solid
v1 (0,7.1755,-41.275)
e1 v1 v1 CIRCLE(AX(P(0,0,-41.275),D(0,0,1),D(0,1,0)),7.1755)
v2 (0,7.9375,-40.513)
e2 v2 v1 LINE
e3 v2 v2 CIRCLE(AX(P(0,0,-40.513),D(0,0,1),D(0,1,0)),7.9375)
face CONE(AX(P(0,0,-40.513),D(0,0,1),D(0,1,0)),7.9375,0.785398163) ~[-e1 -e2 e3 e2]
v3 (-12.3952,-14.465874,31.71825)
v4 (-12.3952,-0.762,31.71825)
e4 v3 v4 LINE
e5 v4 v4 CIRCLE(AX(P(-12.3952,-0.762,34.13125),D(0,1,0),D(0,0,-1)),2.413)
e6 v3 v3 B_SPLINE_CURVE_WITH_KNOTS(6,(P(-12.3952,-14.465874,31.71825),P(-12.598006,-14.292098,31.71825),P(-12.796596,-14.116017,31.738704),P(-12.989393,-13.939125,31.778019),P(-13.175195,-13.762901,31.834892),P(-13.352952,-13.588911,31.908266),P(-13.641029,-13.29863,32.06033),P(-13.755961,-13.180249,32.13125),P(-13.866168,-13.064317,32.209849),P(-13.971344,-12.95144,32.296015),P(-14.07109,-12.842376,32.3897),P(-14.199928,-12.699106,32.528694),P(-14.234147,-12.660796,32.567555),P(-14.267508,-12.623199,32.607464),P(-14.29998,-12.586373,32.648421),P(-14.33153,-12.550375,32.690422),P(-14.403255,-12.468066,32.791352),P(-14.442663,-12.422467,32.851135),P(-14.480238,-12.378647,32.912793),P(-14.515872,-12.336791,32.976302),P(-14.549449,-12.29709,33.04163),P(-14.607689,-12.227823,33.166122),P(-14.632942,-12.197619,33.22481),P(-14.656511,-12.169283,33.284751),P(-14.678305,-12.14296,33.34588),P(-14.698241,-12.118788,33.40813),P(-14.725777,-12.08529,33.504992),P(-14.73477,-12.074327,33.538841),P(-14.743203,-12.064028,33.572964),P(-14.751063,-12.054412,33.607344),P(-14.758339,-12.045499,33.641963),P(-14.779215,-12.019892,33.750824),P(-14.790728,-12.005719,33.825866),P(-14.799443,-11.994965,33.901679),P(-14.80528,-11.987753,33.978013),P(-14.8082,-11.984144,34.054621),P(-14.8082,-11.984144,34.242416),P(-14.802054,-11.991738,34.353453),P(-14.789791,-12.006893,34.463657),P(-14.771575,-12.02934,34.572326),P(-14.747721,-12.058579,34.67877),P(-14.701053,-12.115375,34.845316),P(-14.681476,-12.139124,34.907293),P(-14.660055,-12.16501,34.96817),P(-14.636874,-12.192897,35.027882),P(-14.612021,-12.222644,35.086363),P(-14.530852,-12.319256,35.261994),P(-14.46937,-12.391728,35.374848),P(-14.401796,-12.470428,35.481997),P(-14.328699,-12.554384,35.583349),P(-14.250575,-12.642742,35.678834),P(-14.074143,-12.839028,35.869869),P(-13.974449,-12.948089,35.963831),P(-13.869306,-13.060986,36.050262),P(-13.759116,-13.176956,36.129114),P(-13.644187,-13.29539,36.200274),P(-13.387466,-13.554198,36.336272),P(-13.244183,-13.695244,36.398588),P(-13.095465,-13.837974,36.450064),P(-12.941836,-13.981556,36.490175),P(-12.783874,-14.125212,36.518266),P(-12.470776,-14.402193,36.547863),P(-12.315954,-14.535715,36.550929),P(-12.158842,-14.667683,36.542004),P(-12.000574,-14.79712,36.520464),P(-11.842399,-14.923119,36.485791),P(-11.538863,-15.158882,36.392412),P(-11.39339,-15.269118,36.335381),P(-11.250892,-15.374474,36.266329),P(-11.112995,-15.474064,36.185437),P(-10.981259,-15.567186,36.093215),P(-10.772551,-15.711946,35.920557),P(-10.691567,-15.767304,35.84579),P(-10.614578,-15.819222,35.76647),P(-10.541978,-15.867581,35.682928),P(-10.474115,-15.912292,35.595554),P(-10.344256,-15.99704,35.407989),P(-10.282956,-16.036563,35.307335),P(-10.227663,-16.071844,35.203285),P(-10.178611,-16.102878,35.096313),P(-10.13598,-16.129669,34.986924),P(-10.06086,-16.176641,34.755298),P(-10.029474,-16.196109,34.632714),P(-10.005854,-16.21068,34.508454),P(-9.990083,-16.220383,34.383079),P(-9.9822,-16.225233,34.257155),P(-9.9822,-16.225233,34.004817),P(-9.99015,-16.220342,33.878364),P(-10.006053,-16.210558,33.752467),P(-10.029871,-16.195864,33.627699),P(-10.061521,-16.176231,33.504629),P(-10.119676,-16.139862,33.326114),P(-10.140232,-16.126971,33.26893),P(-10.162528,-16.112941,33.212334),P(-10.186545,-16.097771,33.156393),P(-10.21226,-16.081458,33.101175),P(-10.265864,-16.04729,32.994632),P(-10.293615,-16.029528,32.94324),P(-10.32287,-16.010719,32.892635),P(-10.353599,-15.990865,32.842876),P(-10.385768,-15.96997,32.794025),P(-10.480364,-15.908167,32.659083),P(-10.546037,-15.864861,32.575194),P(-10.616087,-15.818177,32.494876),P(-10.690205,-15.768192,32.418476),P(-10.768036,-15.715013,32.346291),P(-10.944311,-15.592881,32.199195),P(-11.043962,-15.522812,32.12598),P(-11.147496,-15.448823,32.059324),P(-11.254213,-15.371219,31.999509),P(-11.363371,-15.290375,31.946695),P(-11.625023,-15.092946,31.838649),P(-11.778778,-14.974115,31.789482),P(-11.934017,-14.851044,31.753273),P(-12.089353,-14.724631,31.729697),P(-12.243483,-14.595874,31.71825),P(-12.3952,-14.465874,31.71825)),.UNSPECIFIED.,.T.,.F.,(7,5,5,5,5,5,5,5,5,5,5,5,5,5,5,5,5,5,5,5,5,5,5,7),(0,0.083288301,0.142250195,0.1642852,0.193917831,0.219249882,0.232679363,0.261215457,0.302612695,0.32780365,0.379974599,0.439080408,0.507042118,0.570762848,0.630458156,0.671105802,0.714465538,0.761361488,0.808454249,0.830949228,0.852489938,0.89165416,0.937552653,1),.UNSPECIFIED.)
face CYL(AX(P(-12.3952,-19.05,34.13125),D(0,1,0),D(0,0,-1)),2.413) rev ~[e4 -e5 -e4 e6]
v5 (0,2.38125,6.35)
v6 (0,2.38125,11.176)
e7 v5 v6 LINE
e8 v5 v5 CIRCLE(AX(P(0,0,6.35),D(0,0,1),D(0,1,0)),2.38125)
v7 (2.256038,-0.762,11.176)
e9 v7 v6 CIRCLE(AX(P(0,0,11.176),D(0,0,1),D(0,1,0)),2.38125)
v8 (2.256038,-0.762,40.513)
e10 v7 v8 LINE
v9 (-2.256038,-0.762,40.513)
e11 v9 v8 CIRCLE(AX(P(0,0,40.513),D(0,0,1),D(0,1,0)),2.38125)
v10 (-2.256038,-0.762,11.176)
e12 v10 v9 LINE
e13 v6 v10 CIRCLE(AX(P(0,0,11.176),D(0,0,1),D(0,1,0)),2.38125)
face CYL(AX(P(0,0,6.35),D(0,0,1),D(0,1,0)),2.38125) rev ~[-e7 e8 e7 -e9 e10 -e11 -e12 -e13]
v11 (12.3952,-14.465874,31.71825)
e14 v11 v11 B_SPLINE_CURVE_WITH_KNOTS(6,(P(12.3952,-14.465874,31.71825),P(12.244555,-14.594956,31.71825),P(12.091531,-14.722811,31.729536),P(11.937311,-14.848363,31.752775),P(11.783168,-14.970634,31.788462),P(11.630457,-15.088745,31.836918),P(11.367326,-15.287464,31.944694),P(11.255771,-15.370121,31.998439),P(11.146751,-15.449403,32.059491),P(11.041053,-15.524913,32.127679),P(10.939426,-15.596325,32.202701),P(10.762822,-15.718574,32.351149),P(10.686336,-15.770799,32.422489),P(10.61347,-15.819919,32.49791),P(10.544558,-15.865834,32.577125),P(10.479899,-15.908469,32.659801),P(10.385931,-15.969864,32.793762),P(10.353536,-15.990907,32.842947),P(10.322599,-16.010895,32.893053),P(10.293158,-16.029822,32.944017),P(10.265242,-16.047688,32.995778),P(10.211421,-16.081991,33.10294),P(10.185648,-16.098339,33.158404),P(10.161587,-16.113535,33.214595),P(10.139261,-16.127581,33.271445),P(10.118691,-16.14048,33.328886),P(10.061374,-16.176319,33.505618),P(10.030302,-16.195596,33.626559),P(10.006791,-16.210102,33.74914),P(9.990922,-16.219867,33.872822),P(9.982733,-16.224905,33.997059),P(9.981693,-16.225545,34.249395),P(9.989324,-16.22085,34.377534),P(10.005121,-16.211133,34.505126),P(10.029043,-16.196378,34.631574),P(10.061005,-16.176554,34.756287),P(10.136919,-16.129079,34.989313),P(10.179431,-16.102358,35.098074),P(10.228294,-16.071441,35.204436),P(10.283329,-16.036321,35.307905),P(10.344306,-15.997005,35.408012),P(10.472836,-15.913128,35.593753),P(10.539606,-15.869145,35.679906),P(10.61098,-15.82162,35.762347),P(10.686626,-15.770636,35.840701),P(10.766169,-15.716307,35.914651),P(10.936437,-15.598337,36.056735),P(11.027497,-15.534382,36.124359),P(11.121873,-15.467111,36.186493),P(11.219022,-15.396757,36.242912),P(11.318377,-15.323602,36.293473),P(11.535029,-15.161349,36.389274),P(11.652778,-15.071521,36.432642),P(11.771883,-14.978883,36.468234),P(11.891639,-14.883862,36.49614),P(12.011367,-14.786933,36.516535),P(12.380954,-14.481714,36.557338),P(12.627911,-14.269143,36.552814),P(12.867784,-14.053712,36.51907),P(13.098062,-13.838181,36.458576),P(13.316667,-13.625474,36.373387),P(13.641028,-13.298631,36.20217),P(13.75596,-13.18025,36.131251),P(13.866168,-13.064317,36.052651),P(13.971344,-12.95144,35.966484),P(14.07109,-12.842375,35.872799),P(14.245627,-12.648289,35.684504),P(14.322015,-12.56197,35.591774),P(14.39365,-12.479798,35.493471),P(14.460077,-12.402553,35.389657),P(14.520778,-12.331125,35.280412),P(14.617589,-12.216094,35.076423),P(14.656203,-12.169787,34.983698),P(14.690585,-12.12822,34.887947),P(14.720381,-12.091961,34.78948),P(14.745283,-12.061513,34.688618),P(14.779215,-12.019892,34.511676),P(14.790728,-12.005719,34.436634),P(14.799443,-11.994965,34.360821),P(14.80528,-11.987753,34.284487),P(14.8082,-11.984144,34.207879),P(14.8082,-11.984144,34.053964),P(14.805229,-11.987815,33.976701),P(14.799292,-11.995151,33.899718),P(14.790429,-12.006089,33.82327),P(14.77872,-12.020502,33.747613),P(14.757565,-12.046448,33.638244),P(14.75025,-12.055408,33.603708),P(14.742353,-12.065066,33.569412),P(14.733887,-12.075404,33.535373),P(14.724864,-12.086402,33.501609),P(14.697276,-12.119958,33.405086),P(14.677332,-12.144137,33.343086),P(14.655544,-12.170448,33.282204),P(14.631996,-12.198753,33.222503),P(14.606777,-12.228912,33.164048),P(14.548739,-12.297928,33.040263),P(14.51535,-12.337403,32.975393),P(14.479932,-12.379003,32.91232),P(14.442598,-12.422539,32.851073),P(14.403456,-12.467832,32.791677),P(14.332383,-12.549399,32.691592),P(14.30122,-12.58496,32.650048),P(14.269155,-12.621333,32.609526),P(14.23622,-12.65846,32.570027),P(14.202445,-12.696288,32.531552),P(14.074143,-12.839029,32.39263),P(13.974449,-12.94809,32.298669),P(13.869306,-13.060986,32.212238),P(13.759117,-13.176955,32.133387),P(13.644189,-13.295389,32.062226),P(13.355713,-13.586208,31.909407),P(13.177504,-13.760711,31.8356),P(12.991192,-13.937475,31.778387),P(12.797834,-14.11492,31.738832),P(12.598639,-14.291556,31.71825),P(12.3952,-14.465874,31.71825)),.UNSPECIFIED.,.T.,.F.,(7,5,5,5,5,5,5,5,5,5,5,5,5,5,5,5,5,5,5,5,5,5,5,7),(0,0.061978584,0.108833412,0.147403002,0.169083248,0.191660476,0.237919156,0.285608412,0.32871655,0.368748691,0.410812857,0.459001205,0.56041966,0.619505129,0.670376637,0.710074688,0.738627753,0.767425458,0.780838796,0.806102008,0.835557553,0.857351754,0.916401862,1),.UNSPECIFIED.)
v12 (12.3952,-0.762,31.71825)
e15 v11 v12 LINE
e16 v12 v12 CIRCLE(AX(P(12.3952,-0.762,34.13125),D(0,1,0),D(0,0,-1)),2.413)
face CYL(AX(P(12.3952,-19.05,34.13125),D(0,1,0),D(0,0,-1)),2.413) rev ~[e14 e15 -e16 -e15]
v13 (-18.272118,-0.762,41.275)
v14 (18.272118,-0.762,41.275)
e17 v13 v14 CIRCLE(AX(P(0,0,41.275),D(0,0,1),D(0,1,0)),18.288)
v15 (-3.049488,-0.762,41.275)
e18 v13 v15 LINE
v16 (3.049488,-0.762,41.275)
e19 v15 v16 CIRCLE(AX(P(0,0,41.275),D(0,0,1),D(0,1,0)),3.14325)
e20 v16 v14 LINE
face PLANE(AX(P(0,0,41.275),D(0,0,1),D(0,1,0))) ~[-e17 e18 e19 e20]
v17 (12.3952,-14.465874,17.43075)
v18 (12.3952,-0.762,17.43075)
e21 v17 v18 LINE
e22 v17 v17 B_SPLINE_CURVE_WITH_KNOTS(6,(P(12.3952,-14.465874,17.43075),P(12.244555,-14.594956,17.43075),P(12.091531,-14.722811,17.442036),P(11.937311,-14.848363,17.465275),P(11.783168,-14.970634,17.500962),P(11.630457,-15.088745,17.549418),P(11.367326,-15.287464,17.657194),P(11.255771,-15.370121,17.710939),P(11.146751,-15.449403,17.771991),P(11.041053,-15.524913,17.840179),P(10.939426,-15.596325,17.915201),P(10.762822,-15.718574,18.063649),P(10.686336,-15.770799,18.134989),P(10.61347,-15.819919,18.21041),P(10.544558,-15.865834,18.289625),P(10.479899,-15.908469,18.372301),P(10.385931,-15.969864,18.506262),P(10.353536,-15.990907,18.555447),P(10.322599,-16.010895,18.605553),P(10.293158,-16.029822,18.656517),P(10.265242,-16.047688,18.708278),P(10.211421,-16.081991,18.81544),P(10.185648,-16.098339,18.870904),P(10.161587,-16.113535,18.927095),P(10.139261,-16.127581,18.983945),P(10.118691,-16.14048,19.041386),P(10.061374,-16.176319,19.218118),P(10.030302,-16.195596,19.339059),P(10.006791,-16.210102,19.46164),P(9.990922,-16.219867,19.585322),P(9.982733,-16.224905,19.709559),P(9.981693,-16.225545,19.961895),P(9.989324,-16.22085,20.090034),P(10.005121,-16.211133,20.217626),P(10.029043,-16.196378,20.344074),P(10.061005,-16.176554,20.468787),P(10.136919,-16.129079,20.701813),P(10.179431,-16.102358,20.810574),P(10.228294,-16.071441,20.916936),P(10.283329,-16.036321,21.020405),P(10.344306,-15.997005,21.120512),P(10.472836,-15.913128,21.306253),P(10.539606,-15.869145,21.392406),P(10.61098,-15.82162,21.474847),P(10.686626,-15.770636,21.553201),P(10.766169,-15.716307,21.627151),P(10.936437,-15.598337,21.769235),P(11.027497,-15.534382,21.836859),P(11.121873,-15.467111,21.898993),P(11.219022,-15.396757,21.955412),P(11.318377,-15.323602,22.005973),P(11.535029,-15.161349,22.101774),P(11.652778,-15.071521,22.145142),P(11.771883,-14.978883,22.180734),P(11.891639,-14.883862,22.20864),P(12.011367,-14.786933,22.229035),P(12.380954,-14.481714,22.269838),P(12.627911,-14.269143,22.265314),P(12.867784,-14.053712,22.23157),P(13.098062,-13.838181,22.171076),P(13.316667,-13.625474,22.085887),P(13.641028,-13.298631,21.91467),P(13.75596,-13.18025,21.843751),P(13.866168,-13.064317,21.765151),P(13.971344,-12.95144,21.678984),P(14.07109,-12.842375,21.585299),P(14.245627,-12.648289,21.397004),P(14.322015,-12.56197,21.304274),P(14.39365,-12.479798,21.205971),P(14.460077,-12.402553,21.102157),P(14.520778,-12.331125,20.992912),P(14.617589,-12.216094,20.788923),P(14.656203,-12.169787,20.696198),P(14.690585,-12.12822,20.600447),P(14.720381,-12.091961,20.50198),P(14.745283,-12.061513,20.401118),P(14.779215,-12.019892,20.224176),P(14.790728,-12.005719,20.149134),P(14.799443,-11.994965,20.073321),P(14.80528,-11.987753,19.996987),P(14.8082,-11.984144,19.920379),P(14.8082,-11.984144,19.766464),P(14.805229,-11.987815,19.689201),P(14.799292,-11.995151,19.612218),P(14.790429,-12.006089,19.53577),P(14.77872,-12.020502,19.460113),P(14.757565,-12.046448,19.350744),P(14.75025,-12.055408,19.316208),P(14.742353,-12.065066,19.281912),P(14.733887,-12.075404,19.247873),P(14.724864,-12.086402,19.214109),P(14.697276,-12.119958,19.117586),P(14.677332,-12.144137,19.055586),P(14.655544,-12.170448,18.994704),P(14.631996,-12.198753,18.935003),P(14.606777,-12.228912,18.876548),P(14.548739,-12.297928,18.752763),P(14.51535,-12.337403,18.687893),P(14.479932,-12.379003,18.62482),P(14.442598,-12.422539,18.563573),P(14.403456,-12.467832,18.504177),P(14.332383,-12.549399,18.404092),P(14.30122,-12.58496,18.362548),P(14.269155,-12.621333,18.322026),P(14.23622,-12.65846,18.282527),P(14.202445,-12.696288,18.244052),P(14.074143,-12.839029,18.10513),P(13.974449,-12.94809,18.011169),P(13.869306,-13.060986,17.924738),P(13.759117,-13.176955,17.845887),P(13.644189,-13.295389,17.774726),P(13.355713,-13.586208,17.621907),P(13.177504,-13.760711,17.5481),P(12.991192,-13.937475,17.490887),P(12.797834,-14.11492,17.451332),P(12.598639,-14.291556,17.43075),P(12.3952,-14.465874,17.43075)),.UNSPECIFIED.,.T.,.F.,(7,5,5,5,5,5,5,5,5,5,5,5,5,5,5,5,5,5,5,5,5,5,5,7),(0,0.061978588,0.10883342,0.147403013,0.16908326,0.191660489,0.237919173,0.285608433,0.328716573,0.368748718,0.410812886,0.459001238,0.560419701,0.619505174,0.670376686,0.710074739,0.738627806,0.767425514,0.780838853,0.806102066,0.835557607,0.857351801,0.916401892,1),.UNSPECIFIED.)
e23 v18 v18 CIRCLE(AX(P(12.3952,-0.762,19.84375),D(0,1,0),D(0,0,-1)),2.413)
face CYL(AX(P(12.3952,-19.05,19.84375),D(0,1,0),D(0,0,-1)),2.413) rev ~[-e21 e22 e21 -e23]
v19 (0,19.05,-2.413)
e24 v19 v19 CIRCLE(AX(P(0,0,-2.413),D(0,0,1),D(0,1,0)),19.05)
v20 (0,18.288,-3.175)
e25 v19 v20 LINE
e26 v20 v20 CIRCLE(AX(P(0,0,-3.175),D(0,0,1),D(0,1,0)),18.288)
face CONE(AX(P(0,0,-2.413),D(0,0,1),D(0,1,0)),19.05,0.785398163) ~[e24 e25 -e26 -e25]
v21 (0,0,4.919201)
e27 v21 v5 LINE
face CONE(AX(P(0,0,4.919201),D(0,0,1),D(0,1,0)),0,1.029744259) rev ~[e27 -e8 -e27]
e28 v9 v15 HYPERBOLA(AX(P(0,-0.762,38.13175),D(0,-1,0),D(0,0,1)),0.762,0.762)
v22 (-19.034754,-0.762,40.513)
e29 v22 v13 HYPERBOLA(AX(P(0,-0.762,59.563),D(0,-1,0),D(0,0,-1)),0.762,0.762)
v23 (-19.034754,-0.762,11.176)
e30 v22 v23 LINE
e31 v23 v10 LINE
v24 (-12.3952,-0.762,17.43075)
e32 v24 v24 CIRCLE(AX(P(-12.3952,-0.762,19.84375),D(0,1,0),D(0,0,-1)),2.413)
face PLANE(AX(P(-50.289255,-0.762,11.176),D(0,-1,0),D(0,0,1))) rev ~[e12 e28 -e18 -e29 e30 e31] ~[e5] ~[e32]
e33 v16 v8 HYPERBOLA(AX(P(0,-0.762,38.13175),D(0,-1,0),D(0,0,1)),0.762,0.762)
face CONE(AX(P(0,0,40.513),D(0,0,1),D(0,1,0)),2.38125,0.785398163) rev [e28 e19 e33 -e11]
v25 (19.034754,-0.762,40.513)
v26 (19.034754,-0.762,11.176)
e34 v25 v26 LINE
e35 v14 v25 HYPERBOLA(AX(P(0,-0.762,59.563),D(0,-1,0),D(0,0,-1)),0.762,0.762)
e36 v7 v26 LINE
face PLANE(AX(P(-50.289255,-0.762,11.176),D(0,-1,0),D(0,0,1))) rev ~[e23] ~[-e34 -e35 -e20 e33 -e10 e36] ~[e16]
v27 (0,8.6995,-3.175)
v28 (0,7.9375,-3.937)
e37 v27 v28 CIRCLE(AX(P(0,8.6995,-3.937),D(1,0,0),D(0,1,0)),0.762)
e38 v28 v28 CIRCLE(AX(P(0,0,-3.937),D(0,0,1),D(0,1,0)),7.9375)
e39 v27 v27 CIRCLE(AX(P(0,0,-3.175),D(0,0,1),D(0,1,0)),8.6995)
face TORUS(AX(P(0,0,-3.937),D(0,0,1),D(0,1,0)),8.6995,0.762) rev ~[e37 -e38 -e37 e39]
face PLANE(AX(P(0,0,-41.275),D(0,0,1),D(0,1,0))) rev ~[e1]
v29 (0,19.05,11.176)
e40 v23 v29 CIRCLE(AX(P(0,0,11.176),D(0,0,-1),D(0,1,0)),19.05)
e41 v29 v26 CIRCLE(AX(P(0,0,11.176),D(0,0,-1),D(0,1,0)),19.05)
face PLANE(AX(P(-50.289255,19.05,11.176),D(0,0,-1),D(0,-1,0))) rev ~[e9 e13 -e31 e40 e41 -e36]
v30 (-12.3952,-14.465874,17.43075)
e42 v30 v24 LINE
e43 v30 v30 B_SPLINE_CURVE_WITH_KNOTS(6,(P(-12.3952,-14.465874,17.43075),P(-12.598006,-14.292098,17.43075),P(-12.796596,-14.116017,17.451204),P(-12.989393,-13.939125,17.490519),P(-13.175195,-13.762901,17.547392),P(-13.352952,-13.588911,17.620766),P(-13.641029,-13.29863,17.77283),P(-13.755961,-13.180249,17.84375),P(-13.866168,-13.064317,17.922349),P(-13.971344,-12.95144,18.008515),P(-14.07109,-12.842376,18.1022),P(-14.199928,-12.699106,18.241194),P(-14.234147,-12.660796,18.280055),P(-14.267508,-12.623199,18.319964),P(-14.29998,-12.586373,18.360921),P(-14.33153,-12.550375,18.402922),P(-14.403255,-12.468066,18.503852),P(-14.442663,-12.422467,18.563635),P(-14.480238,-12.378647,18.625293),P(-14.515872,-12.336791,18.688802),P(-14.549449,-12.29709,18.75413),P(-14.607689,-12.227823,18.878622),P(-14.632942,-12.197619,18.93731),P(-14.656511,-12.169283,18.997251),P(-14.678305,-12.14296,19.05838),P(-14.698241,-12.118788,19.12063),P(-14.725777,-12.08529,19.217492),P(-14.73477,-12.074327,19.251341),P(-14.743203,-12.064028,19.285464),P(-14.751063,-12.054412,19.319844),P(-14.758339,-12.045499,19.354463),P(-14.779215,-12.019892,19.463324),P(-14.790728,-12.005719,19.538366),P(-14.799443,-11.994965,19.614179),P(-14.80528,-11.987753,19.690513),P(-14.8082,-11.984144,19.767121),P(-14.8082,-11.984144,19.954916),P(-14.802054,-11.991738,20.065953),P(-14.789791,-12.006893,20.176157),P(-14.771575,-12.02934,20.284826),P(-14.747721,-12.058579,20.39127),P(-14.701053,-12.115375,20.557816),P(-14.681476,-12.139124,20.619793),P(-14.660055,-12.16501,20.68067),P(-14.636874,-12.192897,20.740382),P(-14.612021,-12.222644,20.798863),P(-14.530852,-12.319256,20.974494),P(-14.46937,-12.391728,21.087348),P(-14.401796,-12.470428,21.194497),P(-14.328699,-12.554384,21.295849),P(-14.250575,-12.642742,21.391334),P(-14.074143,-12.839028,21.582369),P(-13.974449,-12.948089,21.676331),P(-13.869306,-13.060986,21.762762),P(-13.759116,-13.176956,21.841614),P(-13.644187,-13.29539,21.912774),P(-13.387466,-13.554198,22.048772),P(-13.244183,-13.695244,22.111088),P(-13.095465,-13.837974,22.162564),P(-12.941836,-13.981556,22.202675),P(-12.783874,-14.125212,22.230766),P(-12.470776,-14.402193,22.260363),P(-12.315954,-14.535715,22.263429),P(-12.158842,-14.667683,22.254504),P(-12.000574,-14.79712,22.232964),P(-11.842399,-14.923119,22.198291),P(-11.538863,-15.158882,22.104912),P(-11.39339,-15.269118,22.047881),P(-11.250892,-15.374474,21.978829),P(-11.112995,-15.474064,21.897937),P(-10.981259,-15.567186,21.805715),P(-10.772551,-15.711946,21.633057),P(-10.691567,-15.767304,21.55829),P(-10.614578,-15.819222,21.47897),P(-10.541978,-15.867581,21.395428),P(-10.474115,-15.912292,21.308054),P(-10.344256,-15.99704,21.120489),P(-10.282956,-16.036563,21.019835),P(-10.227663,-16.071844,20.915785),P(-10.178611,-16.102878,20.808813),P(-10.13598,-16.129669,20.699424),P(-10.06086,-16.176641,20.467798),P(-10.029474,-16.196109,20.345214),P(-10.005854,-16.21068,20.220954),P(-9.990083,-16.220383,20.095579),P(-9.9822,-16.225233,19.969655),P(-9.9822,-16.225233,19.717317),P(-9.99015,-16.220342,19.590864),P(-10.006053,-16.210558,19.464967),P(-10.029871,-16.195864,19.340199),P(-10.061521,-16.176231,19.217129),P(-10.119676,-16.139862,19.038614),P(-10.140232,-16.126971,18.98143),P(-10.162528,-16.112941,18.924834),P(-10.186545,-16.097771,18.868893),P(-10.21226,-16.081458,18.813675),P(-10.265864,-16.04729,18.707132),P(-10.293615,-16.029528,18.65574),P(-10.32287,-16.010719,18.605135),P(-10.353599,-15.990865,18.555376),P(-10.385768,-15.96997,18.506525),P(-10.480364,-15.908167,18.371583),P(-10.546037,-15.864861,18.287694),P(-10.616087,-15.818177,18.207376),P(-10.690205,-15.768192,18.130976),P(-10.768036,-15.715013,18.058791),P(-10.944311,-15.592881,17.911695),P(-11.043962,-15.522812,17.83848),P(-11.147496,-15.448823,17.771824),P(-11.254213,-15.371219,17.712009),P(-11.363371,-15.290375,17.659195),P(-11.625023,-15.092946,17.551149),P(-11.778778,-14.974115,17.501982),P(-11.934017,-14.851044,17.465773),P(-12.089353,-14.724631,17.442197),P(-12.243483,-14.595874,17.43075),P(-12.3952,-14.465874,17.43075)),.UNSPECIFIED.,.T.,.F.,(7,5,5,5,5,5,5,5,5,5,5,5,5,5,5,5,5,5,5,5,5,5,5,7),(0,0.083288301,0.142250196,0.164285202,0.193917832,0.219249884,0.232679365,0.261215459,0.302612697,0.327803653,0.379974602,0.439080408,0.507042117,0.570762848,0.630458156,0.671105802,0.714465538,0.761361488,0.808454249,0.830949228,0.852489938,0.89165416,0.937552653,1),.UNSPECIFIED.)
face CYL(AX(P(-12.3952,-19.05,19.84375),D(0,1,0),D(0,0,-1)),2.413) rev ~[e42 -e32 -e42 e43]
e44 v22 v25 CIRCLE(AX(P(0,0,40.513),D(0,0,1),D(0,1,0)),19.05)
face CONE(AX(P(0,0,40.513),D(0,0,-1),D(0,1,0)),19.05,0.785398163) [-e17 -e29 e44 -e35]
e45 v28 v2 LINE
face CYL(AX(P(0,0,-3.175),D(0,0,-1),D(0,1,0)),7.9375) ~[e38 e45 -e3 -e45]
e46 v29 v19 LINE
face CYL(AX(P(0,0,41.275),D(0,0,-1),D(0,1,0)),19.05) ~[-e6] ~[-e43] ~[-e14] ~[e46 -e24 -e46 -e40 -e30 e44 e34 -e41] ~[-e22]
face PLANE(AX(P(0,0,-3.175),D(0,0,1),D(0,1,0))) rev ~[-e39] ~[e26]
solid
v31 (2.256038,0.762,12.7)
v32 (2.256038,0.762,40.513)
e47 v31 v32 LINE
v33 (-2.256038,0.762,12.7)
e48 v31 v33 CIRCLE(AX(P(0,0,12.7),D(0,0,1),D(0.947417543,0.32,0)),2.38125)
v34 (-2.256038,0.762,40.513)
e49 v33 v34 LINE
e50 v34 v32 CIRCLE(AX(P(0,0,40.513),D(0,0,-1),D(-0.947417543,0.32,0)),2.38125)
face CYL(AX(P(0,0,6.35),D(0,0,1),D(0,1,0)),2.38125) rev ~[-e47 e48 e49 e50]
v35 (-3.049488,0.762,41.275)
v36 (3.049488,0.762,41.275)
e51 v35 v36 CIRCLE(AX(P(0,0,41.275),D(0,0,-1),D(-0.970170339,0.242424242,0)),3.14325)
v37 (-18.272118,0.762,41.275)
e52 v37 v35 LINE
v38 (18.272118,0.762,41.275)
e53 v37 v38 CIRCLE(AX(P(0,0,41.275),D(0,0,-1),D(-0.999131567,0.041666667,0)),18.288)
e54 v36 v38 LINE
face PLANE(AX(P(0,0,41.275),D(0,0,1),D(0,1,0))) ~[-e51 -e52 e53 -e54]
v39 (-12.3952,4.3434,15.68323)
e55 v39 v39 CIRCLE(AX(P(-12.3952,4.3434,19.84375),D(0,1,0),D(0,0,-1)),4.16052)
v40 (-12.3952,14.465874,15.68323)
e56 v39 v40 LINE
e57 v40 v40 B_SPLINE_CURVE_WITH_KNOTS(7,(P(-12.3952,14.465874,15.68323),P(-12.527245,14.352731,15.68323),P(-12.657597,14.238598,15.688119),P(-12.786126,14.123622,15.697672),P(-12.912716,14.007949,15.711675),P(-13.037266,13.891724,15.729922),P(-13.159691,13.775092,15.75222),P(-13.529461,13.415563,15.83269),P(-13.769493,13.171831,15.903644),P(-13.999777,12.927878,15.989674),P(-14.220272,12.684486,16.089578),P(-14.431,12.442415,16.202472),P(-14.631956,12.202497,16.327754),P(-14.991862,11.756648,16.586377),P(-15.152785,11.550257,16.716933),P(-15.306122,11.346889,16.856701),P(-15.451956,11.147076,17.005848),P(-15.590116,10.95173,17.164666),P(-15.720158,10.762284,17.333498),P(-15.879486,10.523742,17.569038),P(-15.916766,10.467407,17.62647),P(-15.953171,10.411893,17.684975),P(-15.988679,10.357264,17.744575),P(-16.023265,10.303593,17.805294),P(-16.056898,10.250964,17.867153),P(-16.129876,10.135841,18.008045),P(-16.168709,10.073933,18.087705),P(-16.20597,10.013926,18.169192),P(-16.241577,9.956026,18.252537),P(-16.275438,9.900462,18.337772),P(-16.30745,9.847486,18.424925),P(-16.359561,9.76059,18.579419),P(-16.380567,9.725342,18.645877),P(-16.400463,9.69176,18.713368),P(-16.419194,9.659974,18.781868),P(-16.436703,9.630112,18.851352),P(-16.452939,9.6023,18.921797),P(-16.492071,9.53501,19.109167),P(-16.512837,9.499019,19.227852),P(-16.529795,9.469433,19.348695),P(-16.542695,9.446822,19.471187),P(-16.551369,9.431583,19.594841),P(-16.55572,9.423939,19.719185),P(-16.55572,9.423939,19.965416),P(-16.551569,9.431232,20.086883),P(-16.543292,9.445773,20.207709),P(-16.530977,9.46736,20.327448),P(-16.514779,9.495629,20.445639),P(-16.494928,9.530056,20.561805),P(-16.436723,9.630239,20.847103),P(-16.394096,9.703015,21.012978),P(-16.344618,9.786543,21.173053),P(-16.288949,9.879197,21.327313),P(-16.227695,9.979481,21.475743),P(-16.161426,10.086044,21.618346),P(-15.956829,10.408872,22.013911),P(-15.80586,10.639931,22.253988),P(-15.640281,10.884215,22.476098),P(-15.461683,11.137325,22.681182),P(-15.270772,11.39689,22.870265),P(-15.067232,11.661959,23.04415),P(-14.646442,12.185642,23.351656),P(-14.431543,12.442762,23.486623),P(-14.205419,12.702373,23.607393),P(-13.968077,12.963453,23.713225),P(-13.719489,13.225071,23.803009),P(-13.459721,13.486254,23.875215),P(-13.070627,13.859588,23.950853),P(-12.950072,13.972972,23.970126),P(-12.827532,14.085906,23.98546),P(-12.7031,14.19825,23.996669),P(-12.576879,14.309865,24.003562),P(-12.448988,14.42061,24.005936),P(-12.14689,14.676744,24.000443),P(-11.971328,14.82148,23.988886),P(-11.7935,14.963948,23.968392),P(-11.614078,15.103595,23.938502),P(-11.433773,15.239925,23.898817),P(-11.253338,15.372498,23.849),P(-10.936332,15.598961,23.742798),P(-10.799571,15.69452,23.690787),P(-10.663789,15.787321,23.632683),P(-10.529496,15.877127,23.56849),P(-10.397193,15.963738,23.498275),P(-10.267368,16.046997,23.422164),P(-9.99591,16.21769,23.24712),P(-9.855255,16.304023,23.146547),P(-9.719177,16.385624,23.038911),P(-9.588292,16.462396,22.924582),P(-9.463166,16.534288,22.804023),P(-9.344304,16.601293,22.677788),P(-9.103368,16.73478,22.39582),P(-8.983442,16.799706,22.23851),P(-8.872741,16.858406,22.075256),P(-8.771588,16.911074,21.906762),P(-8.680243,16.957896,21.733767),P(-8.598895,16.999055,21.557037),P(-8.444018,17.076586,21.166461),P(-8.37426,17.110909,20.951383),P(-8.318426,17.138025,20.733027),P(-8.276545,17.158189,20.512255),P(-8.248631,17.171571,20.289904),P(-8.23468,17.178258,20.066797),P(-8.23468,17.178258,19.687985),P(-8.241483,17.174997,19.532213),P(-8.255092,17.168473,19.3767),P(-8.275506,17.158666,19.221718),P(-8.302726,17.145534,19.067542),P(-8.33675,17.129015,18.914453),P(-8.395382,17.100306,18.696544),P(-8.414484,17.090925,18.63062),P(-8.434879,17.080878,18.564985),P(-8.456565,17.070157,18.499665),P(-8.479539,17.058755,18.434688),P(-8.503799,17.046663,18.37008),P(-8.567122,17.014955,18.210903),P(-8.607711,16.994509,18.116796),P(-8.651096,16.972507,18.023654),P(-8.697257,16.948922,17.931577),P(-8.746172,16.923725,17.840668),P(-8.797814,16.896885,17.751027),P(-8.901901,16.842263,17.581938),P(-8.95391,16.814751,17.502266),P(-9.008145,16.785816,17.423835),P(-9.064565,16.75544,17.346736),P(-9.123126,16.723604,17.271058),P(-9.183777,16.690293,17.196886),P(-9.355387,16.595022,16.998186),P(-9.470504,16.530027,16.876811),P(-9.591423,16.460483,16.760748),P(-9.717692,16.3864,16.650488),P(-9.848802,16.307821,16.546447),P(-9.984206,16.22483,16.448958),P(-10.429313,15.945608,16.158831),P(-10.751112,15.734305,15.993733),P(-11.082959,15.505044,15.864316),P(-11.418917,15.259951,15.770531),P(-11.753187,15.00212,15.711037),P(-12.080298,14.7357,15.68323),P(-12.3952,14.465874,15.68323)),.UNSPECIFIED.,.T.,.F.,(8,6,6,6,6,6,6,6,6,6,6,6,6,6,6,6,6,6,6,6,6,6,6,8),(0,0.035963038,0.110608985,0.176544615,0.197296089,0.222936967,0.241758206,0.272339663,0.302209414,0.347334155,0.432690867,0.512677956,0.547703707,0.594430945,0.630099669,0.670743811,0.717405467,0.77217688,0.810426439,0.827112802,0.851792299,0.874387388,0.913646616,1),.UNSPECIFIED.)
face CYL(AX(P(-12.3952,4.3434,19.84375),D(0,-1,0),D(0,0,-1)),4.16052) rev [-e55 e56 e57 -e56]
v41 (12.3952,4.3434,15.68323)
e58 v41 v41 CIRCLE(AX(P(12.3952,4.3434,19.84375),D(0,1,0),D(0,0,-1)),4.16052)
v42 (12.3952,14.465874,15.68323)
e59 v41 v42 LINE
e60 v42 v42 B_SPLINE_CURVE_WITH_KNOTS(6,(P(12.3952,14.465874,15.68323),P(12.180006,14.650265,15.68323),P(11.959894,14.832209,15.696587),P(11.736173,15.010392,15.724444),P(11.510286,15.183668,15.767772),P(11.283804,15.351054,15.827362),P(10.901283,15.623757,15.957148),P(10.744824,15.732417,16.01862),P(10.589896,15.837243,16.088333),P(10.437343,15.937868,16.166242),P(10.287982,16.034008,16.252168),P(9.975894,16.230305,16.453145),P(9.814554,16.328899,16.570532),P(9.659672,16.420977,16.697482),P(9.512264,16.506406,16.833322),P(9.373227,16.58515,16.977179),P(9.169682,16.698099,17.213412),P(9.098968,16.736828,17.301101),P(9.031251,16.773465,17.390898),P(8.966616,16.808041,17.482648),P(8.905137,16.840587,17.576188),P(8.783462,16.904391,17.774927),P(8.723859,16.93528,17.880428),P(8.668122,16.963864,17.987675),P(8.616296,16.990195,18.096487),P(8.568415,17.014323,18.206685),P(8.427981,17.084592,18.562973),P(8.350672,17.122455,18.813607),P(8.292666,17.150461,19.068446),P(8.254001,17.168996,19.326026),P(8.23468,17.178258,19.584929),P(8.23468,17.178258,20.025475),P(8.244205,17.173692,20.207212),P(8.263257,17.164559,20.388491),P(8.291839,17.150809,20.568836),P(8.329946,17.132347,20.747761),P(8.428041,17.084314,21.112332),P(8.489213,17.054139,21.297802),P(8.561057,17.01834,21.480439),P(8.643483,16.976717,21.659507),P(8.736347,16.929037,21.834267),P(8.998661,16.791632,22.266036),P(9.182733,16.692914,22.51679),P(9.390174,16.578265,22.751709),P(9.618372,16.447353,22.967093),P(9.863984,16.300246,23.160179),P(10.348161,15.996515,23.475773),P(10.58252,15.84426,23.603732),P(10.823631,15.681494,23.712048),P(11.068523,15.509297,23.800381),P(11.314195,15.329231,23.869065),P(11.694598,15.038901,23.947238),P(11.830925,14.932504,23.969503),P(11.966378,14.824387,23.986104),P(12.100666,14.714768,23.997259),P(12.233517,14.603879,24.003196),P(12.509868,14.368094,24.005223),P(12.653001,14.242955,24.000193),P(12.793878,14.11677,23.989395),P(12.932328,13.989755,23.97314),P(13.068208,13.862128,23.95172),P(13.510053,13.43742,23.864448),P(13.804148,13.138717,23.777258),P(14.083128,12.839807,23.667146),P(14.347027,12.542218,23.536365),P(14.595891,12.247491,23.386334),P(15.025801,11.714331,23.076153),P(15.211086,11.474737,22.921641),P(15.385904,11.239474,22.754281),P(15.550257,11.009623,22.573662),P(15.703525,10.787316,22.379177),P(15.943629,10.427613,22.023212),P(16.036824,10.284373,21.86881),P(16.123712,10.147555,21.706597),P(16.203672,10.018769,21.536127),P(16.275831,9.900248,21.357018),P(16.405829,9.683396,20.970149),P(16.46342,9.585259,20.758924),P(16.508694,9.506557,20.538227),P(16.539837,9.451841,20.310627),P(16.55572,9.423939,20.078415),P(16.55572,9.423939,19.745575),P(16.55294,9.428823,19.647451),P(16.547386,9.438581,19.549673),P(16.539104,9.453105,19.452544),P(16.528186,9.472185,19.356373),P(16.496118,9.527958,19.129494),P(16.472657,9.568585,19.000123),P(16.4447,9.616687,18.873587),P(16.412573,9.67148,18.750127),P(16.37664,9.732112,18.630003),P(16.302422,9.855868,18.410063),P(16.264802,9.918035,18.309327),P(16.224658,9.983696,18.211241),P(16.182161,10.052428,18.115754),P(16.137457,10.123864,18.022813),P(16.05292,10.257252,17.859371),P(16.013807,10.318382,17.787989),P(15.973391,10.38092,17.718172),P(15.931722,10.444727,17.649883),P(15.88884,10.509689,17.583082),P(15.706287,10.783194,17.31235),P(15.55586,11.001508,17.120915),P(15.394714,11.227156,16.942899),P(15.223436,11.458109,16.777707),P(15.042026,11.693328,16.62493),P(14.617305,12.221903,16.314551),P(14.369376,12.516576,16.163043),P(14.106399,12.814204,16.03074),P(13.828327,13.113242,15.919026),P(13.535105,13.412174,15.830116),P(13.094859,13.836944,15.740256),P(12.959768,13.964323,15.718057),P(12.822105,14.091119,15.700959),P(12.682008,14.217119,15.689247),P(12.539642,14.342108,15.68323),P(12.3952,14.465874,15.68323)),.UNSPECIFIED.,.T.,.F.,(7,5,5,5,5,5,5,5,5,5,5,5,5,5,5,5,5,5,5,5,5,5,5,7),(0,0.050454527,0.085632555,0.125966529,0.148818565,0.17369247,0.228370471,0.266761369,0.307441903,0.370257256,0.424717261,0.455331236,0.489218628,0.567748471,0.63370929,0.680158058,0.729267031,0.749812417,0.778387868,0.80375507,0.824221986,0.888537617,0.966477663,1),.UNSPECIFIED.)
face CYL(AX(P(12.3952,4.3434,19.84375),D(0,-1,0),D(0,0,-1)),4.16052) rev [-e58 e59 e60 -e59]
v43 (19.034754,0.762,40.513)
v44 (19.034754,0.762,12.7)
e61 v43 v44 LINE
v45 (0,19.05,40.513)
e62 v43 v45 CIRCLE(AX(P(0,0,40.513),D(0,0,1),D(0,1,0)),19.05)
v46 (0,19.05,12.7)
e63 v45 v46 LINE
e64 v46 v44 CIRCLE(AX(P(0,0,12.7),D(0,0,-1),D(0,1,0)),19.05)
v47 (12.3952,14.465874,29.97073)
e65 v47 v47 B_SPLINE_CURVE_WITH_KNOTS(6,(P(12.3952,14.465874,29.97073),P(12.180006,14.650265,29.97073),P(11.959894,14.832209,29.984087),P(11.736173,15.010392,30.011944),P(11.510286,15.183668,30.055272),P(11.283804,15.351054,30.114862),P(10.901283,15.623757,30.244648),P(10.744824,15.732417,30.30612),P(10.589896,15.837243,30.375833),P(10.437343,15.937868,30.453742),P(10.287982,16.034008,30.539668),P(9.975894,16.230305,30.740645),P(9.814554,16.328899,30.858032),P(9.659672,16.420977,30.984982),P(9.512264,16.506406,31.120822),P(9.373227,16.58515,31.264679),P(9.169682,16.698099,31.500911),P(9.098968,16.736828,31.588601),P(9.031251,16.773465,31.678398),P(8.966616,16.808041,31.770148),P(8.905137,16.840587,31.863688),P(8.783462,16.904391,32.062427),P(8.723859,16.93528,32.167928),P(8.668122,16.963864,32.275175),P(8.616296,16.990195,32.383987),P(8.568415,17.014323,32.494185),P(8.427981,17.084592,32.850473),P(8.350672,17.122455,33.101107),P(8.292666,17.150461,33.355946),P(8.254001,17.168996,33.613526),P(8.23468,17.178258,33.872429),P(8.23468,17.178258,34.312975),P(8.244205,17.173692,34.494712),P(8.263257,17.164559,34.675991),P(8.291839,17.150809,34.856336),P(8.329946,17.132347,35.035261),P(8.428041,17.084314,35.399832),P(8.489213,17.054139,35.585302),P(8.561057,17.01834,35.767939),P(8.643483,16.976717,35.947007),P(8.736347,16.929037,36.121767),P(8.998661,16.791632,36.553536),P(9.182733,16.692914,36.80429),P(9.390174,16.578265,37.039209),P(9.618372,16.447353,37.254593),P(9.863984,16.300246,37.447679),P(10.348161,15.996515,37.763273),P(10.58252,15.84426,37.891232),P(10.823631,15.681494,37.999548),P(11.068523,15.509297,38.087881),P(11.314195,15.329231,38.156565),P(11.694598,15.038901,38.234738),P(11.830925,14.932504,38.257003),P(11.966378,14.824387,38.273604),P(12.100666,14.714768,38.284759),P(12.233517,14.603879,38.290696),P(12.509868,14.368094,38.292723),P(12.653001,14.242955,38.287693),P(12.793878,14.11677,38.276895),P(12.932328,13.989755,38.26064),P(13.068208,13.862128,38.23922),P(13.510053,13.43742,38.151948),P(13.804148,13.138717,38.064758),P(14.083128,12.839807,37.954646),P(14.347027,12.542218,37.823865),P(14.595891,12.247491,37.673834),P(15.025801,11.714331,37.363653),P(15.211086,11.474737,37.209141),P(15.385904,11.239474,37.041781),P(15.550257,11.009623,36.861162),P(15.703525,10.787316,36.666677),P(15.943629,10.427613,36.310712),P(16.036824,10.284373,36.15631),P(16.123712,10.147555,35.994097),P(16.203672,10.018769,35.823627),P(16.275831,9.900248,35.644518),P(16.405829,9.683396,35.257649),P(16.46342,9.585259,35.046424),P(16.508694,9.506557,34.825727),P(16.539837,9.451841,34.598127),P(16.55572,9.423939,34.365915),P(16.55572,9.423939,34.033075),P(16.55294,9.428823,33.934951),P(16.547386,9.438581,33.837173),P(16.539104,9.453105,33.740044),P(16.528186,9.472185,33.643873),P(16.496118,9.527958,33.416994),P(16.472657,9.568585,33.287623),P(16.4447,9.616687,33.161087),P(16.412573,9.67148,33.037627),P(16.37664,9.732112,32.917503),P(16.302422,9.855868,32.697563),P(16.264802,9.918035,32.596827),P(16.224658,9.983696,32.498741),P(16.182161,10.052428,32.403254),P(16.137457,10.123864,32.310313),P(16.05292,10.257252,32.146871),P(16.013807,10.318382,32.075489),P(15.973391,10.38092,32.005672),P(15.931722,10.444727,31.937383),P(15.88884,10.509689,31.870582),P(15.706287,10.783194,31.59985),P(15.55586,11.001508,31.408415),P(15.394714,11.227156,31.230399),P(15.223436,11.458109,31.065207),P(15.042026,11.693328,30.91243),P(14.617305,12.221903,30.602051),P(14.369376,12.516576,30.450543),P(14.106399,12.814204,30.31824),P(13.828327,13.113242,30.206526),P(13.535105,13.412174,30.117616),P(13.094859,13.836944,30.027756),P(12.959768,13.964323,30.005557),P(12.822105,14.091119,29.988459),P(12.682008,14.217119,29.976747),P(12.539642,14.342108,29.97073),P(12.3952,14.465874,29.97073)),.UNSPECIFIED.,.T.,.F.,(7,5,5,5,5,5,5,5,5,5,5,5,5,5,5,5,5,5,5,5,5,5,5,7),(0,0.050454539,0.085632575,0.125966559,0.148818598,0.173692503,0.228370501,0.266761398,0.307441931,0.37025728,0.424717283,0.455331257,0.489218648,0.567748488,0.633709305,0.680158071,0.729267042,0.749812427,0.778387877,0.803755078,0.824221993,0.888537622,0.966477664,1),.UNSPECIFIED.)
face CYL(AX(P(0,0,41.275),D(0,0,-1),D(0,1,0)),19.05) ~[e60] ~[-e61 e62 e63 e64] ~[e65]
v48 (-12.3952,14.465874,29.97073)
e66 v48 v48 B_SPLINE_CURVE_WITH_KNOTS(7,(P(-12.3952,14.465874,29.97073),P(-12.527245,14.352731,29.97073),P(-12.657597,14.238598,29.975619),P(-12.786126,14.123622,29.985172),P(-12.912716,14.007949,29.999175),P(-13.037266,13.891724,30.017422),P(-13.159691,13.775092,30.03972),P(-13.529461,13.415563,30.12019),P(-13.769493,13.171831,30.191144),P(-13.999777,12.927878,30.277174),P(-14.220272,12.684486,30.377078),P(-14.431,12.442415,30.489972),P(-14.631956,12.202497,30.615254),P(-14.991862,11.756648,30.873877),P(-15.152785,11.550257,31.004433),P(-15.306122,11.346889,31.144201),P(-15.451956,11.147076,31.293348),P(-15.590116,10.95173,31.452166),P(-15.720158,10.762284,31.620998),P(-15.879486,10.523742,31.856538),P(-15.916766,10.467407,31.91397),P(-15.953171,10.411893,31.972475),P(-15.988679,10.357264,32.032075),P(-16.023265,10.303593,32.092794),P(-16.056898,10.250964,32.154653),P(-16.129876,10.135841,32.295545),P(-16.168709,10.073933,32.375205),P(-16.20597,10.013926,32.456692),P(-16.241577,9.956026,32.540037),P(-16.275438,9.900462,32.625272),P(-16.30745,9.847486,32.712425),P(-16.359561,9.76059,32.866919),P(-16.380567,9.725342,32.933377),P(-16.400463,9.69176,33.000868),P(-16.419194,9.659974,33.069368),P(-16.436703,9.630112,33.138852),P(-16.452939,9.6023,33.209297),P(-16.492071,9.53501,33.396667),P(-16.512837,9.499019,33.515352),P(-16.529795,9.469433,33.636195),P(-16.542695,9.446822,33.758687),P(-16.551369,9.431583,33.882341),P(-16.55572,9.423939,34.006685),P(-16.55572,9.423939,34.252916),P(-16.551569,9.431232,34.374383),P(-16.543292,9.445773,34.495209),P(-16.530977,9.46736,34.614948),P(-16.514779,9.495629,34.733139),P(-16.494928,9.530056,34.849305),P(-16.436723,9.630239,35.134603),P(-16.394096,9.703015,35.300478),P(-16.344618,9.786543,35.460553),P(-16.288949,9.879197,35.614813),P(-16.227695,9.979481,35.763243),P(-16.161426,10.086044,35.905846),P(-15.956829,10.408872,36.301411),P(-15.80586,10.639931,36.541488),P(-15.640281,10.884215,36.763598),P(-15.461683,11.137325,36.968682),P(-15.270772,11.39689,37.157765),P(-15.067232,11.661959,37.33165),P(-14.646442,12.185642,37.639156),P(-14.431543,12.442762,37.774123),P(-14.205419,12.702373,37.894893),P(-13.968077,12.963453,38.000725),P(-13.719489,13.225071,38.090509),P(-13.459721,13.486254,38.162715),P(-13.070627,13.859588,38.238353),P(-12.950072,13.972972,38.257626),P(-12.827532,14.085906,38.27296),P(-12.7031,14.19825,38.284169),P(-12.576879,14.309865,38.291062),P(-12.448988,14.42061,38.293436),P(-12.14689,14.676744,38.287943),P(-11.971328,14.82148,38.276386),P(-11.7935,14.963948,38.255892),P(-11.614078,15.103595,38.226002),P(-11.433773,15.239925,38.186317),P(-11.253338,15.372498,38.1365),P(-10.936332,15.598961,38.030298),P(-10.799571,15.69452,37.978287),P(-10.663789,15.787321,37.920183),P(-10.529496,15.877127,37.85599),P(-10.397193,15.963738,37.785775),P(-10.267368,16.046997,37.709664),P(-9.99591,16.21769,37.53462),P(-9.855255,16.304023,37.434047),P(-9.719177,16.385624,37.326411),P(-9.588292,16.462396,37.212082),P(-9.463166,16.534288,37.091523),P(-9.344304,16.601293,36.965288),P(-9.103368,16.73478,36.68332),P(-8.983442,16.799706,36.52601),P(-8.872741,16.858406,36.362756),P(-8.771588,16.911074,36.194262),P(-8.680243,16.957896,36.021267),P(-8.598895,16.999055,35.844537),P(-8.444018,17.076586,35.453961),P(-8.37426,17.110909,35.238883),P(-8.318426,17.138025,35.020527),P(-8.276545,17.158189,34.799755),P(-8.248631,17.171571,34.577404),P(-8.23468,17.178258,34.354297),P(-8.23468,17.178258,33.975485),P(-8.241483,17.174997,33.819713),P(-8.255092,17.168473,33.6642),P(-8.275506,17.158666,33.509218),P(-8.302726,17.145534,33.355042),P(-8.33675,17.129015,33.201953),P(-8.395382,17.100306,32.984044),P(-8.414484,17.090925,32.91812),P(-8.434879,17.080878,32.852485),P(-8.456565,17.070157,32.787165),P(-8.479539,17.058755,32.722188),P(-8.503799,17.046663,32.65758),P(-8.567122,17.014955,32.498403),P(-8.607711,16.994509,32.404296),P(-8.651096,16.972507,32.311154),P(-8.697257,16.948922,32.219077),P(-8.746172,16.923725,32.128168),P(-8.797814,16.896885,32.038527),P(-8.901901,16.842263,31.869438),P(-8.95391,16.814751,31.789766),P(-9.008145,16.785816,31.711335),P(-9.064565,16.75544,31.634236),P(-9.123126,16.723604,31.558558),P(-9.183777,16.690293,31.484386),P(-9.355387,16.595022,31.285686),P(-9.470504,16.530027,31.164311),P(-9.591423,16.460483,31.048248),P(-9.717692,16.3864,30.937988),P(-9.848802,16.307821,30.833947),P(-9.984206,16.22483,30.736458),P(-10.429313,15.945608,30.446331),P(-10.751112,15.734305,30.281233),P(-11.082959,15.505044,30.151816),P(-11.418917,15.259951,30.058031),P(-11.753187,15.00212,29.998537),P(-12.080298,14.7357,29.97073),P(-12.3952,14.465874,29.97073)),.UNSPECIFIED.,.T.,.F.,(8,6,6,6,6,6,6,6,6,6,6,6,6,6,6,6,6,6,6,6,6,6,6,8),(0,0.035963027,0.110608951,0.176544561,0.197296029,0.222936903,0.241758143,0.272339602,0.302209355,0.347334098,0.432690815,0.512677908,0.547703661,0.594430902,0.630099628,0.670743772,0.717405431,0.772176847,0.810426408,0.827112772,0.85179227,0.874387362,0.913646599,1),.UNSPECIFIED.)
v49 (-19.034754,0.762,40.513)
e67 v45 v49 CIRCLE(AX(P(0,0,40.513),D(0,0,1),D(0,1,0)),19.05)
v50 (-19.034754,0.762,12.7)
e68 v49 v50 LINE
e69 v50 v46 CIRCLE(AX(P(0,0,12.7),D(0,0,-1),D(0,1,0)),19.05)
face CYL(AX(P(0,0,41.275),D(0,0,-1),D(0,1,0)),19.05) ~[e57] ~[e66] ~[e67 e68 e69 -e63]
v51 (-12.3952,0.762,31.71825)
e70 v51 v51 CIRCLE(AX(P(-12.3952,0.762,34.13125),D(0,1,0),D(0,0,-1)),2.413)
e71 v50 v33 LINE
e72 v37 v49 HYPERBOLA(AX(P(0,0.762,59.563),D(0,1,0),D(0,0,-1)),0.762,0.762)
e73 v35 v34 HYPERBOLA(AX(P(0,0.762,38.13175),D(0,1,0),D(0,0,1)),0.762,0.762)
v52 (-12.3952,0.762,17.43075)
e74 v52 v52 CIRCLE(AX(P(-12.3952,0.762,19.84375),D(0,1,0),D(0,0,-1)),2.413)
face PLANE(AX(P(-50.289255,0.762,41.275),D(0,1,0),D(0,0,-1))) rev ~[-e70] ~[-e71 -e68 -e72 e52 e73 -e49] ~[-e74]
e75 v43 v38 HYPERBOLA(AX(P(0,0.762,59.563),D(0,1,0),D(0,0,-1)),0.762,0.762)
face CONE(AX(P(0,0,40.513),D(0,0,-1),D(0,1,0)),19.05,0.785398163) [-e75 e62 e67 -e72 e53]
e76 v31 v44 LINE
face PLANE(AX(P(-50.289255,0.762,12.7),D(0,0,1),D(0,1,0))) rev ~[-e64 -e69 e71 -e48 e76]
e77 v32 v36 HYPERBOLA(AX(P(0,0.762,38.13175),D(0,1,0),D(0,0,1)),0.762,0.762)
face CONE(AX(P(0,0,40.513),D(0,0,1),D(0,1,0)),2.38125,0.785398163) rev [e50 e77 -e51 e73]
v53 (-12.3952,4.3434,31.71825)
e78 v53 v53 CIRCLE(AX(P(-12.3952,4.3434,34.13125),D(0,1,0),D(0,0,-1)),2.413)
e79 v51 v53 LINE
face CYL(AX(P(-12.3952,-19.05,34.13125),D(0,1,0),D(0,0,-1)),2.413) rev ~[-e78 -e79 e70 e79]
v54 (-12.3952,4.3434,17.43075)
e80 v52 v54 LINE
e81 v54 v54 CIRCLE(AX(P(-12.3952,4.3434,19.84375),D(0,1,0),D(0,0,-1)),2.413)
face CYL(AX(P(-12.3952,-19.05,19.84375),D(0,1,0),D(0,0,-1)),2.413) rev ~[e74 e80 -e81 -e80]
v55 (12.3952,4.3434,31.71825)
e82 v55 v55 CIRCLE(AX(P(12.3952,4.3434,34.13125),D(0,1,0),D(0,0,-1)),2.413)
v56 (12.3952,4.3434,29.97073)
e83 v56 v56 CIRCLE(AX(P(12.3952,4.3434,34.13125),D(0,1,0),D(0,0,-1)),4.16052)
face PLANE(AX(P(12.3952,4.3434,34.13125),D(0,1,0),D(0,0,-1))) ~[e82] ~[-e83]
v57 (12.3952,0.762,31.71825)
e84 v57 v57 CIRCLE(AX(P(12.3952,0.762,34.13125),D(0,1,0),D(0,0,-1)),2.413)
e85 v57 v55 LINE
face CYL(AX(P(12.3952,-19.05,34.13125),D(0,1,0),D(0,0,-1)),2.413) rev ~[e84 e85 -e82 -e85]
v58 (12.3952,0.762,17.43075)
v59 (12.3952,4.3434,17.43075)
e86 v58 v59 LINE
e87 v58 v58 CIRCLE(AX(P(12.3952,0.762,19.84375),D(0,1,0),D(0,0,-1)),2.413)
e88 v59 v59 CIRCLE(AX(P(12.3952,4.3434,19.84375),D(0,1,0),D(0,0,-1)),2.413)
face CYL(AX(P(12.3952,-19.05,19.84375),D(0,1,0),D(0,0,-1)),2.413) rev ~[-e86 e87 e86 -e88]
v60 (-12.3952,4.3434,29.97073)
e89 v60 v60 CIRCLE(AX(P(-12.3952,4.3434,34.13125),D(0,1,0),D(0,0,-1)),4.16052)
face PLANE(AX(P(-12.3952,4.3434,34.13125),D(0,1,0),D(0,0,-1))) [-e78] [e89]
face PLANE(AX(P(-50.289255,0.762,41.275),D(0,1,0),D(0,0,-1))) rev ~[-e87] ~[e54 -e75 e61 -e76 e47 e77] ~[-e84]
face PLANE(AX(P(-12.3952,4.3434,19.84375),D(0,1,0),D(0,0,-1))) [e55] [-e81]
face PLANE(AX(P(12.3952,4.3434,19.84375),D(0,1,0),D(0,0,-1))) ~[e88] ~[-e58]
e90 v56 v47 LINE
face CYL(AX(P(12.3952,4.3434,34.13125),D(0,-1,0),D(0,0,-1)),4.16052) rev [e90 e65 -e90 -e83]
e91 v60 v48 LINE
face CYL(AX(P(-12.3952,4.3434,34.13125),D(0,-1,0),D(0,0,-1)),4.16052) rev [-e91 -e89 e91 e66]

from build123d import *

# Parameters (mm, degrees)
SKETCH11_R              = 4.16052
CUT_EXTRUDE4_DEPTH      = 52.125133793
LPATTERN1_COUNT         = 2
LPATTERN1_PITCH         = 14.2875
LPATTERN1_COUNT_DIR2    = 2
LPATTERN1_PITCH_DIR2    = 24.7904
CHAMFER1_SIZE           = 0.762
FILLET1_R               = 0.762
CUT_EXTRUDE6_DEPTH      = 50.289254738
CUT_EXTRUDE6_DEPTH_BACK = 50.289254738


with BuildPart() as part:
    # Sketch1 → Revolve1 (revolve)
    with BuildSketch(Plane(origin=(0, 0, 0), x_dir=(0, 0, -1), z_dir=(1, 0, 0))):
        Polygon((-41.275, 19.05), (3.175, 19.05), (3.175, 7.9375), (41.275, 7.9375), (41.275, 0), (-4.919200651, 0), (-6.35, 2.38125), (-41.275, 2.38125), align=None)
    revolve(axis=Axis((0, 0, -41.275), (0, 0, 1)))

    # Sketch4 → Cut-Revolve1 (revolve, cut)
    with BuildSketch(Plane.XY.offset(34.13125), mode=Mode.PRIVATE) as cut_revolve1_sk:
        Polygon((14.8082, 4.3434), (16.3576, 4.3434), (16.3576, 9.1694), (16.3576, 19.05), (12.3952, 19.05), (12.3952, -19.05), (14.8082, -19.05), align=None)
    cut_revolve1 = revolve(cut_revolve1_sk.sketch.rotate(Axis((12.3952, -19.05, 34.13125), (0, 1, 0)), 90), axis=Axis((12.3952, -19.05, 34.13125), (0, 1, 0)), mode=Mode.SUBTRACT)

    # Sketch11 → Cut-Extrude4 (cut, through all)
    with BuildSketch(Plane(origin=(0, 4.3434, 0), x_dir=(1, 0, 0), z_dir=(0, 1, 0))):
        with Locations(Location((12.3952, -34.13125, 0), (0, 0, 90))):
            Circle(SKETCH11_R)
    cut_extrude4 = extrude(amount=CUT_EXTRUDE4_DEPTH, mode=Mode.SUBTRACT)

    # LPattern1: Cut-Revolve1, Cut-Extrude4 2 × 2
    with Locations(*[(-j * LPATTERN1_PITCH_DIR2, 0, -i * LPATTERN1_PITCH) for i in range(LPATTERN1_COUNT) for j in range(LPATTERN1_COUNT_DIR2) if (i, j) != (0, 0)]):
        add(cut_revolve1, mode=Mode.SUBTRACT)
        add(cut_extrude4, mode=Mode.SUBTRACT)

    # Chamfer1
    chamfer1_edges = [part.edges().sort_by_distance(p)[0] for p in [
        (0, -2.38125, 41.275),
        (0, -7.9375, -41.275),
        (0, -19.05, -3.175),
        (0, -19.05, 41.275),
    ]]
    chamfer(chamfer1_edges, length=CHAMFER1_SIZE)

    # Fillet1
    fillet1_edges = [part.edges().sort_by_distance(p)[0] for p in [
        (0, -7.9375, -3.175),
    ]]
    fillet(fillet1_edges, radius=FILLET1_R)

    # Sketch14 → Cut-Extrude6 (cut, two sides: drawn at the far end of the back side and taken through both)
    with BuildSketch(Plane(origin=(0, 0, 0), x_dir=(0, 0, -1), z_dir=(1, 0, 0)).offset(-CUT_EXTRUDE6_DEPTH_BACK)):
        Polygon((-41.275, 0.762), (-12.7, 0.762), (-12.7, 19.05), (-11.176, 19.05), (-11.176, -0.762), (-41.275, -0.762), align=None)
    extrude(amount=CUT_EXTRUDE6_DEPTH + CUT_EXTRUDE6_DEPTH_BACK, mode=Mode.SUBTRACT)


with BuildPart() as cut_extrude6_piece_1:
    # of the separate pieces the step leaves, piece 1, a body of its own (cut_extrude6_pieces)
    add(part.part.solids().sort_by_distance((0, 8.6995, -3.175))[0])


with BuildPart() as cut_extrude6_piece_2:
    # of the separate pieces the step leaves, piece 2, a body of its own (cut_extrude6_pieces)
    add(part.part.solids().sort_by_distance((19.034753899, 0.762, 40.513))[0])


solid = Compound([cut_extrude6_piece_1.part, cut_extrude6_piece_2.part])
